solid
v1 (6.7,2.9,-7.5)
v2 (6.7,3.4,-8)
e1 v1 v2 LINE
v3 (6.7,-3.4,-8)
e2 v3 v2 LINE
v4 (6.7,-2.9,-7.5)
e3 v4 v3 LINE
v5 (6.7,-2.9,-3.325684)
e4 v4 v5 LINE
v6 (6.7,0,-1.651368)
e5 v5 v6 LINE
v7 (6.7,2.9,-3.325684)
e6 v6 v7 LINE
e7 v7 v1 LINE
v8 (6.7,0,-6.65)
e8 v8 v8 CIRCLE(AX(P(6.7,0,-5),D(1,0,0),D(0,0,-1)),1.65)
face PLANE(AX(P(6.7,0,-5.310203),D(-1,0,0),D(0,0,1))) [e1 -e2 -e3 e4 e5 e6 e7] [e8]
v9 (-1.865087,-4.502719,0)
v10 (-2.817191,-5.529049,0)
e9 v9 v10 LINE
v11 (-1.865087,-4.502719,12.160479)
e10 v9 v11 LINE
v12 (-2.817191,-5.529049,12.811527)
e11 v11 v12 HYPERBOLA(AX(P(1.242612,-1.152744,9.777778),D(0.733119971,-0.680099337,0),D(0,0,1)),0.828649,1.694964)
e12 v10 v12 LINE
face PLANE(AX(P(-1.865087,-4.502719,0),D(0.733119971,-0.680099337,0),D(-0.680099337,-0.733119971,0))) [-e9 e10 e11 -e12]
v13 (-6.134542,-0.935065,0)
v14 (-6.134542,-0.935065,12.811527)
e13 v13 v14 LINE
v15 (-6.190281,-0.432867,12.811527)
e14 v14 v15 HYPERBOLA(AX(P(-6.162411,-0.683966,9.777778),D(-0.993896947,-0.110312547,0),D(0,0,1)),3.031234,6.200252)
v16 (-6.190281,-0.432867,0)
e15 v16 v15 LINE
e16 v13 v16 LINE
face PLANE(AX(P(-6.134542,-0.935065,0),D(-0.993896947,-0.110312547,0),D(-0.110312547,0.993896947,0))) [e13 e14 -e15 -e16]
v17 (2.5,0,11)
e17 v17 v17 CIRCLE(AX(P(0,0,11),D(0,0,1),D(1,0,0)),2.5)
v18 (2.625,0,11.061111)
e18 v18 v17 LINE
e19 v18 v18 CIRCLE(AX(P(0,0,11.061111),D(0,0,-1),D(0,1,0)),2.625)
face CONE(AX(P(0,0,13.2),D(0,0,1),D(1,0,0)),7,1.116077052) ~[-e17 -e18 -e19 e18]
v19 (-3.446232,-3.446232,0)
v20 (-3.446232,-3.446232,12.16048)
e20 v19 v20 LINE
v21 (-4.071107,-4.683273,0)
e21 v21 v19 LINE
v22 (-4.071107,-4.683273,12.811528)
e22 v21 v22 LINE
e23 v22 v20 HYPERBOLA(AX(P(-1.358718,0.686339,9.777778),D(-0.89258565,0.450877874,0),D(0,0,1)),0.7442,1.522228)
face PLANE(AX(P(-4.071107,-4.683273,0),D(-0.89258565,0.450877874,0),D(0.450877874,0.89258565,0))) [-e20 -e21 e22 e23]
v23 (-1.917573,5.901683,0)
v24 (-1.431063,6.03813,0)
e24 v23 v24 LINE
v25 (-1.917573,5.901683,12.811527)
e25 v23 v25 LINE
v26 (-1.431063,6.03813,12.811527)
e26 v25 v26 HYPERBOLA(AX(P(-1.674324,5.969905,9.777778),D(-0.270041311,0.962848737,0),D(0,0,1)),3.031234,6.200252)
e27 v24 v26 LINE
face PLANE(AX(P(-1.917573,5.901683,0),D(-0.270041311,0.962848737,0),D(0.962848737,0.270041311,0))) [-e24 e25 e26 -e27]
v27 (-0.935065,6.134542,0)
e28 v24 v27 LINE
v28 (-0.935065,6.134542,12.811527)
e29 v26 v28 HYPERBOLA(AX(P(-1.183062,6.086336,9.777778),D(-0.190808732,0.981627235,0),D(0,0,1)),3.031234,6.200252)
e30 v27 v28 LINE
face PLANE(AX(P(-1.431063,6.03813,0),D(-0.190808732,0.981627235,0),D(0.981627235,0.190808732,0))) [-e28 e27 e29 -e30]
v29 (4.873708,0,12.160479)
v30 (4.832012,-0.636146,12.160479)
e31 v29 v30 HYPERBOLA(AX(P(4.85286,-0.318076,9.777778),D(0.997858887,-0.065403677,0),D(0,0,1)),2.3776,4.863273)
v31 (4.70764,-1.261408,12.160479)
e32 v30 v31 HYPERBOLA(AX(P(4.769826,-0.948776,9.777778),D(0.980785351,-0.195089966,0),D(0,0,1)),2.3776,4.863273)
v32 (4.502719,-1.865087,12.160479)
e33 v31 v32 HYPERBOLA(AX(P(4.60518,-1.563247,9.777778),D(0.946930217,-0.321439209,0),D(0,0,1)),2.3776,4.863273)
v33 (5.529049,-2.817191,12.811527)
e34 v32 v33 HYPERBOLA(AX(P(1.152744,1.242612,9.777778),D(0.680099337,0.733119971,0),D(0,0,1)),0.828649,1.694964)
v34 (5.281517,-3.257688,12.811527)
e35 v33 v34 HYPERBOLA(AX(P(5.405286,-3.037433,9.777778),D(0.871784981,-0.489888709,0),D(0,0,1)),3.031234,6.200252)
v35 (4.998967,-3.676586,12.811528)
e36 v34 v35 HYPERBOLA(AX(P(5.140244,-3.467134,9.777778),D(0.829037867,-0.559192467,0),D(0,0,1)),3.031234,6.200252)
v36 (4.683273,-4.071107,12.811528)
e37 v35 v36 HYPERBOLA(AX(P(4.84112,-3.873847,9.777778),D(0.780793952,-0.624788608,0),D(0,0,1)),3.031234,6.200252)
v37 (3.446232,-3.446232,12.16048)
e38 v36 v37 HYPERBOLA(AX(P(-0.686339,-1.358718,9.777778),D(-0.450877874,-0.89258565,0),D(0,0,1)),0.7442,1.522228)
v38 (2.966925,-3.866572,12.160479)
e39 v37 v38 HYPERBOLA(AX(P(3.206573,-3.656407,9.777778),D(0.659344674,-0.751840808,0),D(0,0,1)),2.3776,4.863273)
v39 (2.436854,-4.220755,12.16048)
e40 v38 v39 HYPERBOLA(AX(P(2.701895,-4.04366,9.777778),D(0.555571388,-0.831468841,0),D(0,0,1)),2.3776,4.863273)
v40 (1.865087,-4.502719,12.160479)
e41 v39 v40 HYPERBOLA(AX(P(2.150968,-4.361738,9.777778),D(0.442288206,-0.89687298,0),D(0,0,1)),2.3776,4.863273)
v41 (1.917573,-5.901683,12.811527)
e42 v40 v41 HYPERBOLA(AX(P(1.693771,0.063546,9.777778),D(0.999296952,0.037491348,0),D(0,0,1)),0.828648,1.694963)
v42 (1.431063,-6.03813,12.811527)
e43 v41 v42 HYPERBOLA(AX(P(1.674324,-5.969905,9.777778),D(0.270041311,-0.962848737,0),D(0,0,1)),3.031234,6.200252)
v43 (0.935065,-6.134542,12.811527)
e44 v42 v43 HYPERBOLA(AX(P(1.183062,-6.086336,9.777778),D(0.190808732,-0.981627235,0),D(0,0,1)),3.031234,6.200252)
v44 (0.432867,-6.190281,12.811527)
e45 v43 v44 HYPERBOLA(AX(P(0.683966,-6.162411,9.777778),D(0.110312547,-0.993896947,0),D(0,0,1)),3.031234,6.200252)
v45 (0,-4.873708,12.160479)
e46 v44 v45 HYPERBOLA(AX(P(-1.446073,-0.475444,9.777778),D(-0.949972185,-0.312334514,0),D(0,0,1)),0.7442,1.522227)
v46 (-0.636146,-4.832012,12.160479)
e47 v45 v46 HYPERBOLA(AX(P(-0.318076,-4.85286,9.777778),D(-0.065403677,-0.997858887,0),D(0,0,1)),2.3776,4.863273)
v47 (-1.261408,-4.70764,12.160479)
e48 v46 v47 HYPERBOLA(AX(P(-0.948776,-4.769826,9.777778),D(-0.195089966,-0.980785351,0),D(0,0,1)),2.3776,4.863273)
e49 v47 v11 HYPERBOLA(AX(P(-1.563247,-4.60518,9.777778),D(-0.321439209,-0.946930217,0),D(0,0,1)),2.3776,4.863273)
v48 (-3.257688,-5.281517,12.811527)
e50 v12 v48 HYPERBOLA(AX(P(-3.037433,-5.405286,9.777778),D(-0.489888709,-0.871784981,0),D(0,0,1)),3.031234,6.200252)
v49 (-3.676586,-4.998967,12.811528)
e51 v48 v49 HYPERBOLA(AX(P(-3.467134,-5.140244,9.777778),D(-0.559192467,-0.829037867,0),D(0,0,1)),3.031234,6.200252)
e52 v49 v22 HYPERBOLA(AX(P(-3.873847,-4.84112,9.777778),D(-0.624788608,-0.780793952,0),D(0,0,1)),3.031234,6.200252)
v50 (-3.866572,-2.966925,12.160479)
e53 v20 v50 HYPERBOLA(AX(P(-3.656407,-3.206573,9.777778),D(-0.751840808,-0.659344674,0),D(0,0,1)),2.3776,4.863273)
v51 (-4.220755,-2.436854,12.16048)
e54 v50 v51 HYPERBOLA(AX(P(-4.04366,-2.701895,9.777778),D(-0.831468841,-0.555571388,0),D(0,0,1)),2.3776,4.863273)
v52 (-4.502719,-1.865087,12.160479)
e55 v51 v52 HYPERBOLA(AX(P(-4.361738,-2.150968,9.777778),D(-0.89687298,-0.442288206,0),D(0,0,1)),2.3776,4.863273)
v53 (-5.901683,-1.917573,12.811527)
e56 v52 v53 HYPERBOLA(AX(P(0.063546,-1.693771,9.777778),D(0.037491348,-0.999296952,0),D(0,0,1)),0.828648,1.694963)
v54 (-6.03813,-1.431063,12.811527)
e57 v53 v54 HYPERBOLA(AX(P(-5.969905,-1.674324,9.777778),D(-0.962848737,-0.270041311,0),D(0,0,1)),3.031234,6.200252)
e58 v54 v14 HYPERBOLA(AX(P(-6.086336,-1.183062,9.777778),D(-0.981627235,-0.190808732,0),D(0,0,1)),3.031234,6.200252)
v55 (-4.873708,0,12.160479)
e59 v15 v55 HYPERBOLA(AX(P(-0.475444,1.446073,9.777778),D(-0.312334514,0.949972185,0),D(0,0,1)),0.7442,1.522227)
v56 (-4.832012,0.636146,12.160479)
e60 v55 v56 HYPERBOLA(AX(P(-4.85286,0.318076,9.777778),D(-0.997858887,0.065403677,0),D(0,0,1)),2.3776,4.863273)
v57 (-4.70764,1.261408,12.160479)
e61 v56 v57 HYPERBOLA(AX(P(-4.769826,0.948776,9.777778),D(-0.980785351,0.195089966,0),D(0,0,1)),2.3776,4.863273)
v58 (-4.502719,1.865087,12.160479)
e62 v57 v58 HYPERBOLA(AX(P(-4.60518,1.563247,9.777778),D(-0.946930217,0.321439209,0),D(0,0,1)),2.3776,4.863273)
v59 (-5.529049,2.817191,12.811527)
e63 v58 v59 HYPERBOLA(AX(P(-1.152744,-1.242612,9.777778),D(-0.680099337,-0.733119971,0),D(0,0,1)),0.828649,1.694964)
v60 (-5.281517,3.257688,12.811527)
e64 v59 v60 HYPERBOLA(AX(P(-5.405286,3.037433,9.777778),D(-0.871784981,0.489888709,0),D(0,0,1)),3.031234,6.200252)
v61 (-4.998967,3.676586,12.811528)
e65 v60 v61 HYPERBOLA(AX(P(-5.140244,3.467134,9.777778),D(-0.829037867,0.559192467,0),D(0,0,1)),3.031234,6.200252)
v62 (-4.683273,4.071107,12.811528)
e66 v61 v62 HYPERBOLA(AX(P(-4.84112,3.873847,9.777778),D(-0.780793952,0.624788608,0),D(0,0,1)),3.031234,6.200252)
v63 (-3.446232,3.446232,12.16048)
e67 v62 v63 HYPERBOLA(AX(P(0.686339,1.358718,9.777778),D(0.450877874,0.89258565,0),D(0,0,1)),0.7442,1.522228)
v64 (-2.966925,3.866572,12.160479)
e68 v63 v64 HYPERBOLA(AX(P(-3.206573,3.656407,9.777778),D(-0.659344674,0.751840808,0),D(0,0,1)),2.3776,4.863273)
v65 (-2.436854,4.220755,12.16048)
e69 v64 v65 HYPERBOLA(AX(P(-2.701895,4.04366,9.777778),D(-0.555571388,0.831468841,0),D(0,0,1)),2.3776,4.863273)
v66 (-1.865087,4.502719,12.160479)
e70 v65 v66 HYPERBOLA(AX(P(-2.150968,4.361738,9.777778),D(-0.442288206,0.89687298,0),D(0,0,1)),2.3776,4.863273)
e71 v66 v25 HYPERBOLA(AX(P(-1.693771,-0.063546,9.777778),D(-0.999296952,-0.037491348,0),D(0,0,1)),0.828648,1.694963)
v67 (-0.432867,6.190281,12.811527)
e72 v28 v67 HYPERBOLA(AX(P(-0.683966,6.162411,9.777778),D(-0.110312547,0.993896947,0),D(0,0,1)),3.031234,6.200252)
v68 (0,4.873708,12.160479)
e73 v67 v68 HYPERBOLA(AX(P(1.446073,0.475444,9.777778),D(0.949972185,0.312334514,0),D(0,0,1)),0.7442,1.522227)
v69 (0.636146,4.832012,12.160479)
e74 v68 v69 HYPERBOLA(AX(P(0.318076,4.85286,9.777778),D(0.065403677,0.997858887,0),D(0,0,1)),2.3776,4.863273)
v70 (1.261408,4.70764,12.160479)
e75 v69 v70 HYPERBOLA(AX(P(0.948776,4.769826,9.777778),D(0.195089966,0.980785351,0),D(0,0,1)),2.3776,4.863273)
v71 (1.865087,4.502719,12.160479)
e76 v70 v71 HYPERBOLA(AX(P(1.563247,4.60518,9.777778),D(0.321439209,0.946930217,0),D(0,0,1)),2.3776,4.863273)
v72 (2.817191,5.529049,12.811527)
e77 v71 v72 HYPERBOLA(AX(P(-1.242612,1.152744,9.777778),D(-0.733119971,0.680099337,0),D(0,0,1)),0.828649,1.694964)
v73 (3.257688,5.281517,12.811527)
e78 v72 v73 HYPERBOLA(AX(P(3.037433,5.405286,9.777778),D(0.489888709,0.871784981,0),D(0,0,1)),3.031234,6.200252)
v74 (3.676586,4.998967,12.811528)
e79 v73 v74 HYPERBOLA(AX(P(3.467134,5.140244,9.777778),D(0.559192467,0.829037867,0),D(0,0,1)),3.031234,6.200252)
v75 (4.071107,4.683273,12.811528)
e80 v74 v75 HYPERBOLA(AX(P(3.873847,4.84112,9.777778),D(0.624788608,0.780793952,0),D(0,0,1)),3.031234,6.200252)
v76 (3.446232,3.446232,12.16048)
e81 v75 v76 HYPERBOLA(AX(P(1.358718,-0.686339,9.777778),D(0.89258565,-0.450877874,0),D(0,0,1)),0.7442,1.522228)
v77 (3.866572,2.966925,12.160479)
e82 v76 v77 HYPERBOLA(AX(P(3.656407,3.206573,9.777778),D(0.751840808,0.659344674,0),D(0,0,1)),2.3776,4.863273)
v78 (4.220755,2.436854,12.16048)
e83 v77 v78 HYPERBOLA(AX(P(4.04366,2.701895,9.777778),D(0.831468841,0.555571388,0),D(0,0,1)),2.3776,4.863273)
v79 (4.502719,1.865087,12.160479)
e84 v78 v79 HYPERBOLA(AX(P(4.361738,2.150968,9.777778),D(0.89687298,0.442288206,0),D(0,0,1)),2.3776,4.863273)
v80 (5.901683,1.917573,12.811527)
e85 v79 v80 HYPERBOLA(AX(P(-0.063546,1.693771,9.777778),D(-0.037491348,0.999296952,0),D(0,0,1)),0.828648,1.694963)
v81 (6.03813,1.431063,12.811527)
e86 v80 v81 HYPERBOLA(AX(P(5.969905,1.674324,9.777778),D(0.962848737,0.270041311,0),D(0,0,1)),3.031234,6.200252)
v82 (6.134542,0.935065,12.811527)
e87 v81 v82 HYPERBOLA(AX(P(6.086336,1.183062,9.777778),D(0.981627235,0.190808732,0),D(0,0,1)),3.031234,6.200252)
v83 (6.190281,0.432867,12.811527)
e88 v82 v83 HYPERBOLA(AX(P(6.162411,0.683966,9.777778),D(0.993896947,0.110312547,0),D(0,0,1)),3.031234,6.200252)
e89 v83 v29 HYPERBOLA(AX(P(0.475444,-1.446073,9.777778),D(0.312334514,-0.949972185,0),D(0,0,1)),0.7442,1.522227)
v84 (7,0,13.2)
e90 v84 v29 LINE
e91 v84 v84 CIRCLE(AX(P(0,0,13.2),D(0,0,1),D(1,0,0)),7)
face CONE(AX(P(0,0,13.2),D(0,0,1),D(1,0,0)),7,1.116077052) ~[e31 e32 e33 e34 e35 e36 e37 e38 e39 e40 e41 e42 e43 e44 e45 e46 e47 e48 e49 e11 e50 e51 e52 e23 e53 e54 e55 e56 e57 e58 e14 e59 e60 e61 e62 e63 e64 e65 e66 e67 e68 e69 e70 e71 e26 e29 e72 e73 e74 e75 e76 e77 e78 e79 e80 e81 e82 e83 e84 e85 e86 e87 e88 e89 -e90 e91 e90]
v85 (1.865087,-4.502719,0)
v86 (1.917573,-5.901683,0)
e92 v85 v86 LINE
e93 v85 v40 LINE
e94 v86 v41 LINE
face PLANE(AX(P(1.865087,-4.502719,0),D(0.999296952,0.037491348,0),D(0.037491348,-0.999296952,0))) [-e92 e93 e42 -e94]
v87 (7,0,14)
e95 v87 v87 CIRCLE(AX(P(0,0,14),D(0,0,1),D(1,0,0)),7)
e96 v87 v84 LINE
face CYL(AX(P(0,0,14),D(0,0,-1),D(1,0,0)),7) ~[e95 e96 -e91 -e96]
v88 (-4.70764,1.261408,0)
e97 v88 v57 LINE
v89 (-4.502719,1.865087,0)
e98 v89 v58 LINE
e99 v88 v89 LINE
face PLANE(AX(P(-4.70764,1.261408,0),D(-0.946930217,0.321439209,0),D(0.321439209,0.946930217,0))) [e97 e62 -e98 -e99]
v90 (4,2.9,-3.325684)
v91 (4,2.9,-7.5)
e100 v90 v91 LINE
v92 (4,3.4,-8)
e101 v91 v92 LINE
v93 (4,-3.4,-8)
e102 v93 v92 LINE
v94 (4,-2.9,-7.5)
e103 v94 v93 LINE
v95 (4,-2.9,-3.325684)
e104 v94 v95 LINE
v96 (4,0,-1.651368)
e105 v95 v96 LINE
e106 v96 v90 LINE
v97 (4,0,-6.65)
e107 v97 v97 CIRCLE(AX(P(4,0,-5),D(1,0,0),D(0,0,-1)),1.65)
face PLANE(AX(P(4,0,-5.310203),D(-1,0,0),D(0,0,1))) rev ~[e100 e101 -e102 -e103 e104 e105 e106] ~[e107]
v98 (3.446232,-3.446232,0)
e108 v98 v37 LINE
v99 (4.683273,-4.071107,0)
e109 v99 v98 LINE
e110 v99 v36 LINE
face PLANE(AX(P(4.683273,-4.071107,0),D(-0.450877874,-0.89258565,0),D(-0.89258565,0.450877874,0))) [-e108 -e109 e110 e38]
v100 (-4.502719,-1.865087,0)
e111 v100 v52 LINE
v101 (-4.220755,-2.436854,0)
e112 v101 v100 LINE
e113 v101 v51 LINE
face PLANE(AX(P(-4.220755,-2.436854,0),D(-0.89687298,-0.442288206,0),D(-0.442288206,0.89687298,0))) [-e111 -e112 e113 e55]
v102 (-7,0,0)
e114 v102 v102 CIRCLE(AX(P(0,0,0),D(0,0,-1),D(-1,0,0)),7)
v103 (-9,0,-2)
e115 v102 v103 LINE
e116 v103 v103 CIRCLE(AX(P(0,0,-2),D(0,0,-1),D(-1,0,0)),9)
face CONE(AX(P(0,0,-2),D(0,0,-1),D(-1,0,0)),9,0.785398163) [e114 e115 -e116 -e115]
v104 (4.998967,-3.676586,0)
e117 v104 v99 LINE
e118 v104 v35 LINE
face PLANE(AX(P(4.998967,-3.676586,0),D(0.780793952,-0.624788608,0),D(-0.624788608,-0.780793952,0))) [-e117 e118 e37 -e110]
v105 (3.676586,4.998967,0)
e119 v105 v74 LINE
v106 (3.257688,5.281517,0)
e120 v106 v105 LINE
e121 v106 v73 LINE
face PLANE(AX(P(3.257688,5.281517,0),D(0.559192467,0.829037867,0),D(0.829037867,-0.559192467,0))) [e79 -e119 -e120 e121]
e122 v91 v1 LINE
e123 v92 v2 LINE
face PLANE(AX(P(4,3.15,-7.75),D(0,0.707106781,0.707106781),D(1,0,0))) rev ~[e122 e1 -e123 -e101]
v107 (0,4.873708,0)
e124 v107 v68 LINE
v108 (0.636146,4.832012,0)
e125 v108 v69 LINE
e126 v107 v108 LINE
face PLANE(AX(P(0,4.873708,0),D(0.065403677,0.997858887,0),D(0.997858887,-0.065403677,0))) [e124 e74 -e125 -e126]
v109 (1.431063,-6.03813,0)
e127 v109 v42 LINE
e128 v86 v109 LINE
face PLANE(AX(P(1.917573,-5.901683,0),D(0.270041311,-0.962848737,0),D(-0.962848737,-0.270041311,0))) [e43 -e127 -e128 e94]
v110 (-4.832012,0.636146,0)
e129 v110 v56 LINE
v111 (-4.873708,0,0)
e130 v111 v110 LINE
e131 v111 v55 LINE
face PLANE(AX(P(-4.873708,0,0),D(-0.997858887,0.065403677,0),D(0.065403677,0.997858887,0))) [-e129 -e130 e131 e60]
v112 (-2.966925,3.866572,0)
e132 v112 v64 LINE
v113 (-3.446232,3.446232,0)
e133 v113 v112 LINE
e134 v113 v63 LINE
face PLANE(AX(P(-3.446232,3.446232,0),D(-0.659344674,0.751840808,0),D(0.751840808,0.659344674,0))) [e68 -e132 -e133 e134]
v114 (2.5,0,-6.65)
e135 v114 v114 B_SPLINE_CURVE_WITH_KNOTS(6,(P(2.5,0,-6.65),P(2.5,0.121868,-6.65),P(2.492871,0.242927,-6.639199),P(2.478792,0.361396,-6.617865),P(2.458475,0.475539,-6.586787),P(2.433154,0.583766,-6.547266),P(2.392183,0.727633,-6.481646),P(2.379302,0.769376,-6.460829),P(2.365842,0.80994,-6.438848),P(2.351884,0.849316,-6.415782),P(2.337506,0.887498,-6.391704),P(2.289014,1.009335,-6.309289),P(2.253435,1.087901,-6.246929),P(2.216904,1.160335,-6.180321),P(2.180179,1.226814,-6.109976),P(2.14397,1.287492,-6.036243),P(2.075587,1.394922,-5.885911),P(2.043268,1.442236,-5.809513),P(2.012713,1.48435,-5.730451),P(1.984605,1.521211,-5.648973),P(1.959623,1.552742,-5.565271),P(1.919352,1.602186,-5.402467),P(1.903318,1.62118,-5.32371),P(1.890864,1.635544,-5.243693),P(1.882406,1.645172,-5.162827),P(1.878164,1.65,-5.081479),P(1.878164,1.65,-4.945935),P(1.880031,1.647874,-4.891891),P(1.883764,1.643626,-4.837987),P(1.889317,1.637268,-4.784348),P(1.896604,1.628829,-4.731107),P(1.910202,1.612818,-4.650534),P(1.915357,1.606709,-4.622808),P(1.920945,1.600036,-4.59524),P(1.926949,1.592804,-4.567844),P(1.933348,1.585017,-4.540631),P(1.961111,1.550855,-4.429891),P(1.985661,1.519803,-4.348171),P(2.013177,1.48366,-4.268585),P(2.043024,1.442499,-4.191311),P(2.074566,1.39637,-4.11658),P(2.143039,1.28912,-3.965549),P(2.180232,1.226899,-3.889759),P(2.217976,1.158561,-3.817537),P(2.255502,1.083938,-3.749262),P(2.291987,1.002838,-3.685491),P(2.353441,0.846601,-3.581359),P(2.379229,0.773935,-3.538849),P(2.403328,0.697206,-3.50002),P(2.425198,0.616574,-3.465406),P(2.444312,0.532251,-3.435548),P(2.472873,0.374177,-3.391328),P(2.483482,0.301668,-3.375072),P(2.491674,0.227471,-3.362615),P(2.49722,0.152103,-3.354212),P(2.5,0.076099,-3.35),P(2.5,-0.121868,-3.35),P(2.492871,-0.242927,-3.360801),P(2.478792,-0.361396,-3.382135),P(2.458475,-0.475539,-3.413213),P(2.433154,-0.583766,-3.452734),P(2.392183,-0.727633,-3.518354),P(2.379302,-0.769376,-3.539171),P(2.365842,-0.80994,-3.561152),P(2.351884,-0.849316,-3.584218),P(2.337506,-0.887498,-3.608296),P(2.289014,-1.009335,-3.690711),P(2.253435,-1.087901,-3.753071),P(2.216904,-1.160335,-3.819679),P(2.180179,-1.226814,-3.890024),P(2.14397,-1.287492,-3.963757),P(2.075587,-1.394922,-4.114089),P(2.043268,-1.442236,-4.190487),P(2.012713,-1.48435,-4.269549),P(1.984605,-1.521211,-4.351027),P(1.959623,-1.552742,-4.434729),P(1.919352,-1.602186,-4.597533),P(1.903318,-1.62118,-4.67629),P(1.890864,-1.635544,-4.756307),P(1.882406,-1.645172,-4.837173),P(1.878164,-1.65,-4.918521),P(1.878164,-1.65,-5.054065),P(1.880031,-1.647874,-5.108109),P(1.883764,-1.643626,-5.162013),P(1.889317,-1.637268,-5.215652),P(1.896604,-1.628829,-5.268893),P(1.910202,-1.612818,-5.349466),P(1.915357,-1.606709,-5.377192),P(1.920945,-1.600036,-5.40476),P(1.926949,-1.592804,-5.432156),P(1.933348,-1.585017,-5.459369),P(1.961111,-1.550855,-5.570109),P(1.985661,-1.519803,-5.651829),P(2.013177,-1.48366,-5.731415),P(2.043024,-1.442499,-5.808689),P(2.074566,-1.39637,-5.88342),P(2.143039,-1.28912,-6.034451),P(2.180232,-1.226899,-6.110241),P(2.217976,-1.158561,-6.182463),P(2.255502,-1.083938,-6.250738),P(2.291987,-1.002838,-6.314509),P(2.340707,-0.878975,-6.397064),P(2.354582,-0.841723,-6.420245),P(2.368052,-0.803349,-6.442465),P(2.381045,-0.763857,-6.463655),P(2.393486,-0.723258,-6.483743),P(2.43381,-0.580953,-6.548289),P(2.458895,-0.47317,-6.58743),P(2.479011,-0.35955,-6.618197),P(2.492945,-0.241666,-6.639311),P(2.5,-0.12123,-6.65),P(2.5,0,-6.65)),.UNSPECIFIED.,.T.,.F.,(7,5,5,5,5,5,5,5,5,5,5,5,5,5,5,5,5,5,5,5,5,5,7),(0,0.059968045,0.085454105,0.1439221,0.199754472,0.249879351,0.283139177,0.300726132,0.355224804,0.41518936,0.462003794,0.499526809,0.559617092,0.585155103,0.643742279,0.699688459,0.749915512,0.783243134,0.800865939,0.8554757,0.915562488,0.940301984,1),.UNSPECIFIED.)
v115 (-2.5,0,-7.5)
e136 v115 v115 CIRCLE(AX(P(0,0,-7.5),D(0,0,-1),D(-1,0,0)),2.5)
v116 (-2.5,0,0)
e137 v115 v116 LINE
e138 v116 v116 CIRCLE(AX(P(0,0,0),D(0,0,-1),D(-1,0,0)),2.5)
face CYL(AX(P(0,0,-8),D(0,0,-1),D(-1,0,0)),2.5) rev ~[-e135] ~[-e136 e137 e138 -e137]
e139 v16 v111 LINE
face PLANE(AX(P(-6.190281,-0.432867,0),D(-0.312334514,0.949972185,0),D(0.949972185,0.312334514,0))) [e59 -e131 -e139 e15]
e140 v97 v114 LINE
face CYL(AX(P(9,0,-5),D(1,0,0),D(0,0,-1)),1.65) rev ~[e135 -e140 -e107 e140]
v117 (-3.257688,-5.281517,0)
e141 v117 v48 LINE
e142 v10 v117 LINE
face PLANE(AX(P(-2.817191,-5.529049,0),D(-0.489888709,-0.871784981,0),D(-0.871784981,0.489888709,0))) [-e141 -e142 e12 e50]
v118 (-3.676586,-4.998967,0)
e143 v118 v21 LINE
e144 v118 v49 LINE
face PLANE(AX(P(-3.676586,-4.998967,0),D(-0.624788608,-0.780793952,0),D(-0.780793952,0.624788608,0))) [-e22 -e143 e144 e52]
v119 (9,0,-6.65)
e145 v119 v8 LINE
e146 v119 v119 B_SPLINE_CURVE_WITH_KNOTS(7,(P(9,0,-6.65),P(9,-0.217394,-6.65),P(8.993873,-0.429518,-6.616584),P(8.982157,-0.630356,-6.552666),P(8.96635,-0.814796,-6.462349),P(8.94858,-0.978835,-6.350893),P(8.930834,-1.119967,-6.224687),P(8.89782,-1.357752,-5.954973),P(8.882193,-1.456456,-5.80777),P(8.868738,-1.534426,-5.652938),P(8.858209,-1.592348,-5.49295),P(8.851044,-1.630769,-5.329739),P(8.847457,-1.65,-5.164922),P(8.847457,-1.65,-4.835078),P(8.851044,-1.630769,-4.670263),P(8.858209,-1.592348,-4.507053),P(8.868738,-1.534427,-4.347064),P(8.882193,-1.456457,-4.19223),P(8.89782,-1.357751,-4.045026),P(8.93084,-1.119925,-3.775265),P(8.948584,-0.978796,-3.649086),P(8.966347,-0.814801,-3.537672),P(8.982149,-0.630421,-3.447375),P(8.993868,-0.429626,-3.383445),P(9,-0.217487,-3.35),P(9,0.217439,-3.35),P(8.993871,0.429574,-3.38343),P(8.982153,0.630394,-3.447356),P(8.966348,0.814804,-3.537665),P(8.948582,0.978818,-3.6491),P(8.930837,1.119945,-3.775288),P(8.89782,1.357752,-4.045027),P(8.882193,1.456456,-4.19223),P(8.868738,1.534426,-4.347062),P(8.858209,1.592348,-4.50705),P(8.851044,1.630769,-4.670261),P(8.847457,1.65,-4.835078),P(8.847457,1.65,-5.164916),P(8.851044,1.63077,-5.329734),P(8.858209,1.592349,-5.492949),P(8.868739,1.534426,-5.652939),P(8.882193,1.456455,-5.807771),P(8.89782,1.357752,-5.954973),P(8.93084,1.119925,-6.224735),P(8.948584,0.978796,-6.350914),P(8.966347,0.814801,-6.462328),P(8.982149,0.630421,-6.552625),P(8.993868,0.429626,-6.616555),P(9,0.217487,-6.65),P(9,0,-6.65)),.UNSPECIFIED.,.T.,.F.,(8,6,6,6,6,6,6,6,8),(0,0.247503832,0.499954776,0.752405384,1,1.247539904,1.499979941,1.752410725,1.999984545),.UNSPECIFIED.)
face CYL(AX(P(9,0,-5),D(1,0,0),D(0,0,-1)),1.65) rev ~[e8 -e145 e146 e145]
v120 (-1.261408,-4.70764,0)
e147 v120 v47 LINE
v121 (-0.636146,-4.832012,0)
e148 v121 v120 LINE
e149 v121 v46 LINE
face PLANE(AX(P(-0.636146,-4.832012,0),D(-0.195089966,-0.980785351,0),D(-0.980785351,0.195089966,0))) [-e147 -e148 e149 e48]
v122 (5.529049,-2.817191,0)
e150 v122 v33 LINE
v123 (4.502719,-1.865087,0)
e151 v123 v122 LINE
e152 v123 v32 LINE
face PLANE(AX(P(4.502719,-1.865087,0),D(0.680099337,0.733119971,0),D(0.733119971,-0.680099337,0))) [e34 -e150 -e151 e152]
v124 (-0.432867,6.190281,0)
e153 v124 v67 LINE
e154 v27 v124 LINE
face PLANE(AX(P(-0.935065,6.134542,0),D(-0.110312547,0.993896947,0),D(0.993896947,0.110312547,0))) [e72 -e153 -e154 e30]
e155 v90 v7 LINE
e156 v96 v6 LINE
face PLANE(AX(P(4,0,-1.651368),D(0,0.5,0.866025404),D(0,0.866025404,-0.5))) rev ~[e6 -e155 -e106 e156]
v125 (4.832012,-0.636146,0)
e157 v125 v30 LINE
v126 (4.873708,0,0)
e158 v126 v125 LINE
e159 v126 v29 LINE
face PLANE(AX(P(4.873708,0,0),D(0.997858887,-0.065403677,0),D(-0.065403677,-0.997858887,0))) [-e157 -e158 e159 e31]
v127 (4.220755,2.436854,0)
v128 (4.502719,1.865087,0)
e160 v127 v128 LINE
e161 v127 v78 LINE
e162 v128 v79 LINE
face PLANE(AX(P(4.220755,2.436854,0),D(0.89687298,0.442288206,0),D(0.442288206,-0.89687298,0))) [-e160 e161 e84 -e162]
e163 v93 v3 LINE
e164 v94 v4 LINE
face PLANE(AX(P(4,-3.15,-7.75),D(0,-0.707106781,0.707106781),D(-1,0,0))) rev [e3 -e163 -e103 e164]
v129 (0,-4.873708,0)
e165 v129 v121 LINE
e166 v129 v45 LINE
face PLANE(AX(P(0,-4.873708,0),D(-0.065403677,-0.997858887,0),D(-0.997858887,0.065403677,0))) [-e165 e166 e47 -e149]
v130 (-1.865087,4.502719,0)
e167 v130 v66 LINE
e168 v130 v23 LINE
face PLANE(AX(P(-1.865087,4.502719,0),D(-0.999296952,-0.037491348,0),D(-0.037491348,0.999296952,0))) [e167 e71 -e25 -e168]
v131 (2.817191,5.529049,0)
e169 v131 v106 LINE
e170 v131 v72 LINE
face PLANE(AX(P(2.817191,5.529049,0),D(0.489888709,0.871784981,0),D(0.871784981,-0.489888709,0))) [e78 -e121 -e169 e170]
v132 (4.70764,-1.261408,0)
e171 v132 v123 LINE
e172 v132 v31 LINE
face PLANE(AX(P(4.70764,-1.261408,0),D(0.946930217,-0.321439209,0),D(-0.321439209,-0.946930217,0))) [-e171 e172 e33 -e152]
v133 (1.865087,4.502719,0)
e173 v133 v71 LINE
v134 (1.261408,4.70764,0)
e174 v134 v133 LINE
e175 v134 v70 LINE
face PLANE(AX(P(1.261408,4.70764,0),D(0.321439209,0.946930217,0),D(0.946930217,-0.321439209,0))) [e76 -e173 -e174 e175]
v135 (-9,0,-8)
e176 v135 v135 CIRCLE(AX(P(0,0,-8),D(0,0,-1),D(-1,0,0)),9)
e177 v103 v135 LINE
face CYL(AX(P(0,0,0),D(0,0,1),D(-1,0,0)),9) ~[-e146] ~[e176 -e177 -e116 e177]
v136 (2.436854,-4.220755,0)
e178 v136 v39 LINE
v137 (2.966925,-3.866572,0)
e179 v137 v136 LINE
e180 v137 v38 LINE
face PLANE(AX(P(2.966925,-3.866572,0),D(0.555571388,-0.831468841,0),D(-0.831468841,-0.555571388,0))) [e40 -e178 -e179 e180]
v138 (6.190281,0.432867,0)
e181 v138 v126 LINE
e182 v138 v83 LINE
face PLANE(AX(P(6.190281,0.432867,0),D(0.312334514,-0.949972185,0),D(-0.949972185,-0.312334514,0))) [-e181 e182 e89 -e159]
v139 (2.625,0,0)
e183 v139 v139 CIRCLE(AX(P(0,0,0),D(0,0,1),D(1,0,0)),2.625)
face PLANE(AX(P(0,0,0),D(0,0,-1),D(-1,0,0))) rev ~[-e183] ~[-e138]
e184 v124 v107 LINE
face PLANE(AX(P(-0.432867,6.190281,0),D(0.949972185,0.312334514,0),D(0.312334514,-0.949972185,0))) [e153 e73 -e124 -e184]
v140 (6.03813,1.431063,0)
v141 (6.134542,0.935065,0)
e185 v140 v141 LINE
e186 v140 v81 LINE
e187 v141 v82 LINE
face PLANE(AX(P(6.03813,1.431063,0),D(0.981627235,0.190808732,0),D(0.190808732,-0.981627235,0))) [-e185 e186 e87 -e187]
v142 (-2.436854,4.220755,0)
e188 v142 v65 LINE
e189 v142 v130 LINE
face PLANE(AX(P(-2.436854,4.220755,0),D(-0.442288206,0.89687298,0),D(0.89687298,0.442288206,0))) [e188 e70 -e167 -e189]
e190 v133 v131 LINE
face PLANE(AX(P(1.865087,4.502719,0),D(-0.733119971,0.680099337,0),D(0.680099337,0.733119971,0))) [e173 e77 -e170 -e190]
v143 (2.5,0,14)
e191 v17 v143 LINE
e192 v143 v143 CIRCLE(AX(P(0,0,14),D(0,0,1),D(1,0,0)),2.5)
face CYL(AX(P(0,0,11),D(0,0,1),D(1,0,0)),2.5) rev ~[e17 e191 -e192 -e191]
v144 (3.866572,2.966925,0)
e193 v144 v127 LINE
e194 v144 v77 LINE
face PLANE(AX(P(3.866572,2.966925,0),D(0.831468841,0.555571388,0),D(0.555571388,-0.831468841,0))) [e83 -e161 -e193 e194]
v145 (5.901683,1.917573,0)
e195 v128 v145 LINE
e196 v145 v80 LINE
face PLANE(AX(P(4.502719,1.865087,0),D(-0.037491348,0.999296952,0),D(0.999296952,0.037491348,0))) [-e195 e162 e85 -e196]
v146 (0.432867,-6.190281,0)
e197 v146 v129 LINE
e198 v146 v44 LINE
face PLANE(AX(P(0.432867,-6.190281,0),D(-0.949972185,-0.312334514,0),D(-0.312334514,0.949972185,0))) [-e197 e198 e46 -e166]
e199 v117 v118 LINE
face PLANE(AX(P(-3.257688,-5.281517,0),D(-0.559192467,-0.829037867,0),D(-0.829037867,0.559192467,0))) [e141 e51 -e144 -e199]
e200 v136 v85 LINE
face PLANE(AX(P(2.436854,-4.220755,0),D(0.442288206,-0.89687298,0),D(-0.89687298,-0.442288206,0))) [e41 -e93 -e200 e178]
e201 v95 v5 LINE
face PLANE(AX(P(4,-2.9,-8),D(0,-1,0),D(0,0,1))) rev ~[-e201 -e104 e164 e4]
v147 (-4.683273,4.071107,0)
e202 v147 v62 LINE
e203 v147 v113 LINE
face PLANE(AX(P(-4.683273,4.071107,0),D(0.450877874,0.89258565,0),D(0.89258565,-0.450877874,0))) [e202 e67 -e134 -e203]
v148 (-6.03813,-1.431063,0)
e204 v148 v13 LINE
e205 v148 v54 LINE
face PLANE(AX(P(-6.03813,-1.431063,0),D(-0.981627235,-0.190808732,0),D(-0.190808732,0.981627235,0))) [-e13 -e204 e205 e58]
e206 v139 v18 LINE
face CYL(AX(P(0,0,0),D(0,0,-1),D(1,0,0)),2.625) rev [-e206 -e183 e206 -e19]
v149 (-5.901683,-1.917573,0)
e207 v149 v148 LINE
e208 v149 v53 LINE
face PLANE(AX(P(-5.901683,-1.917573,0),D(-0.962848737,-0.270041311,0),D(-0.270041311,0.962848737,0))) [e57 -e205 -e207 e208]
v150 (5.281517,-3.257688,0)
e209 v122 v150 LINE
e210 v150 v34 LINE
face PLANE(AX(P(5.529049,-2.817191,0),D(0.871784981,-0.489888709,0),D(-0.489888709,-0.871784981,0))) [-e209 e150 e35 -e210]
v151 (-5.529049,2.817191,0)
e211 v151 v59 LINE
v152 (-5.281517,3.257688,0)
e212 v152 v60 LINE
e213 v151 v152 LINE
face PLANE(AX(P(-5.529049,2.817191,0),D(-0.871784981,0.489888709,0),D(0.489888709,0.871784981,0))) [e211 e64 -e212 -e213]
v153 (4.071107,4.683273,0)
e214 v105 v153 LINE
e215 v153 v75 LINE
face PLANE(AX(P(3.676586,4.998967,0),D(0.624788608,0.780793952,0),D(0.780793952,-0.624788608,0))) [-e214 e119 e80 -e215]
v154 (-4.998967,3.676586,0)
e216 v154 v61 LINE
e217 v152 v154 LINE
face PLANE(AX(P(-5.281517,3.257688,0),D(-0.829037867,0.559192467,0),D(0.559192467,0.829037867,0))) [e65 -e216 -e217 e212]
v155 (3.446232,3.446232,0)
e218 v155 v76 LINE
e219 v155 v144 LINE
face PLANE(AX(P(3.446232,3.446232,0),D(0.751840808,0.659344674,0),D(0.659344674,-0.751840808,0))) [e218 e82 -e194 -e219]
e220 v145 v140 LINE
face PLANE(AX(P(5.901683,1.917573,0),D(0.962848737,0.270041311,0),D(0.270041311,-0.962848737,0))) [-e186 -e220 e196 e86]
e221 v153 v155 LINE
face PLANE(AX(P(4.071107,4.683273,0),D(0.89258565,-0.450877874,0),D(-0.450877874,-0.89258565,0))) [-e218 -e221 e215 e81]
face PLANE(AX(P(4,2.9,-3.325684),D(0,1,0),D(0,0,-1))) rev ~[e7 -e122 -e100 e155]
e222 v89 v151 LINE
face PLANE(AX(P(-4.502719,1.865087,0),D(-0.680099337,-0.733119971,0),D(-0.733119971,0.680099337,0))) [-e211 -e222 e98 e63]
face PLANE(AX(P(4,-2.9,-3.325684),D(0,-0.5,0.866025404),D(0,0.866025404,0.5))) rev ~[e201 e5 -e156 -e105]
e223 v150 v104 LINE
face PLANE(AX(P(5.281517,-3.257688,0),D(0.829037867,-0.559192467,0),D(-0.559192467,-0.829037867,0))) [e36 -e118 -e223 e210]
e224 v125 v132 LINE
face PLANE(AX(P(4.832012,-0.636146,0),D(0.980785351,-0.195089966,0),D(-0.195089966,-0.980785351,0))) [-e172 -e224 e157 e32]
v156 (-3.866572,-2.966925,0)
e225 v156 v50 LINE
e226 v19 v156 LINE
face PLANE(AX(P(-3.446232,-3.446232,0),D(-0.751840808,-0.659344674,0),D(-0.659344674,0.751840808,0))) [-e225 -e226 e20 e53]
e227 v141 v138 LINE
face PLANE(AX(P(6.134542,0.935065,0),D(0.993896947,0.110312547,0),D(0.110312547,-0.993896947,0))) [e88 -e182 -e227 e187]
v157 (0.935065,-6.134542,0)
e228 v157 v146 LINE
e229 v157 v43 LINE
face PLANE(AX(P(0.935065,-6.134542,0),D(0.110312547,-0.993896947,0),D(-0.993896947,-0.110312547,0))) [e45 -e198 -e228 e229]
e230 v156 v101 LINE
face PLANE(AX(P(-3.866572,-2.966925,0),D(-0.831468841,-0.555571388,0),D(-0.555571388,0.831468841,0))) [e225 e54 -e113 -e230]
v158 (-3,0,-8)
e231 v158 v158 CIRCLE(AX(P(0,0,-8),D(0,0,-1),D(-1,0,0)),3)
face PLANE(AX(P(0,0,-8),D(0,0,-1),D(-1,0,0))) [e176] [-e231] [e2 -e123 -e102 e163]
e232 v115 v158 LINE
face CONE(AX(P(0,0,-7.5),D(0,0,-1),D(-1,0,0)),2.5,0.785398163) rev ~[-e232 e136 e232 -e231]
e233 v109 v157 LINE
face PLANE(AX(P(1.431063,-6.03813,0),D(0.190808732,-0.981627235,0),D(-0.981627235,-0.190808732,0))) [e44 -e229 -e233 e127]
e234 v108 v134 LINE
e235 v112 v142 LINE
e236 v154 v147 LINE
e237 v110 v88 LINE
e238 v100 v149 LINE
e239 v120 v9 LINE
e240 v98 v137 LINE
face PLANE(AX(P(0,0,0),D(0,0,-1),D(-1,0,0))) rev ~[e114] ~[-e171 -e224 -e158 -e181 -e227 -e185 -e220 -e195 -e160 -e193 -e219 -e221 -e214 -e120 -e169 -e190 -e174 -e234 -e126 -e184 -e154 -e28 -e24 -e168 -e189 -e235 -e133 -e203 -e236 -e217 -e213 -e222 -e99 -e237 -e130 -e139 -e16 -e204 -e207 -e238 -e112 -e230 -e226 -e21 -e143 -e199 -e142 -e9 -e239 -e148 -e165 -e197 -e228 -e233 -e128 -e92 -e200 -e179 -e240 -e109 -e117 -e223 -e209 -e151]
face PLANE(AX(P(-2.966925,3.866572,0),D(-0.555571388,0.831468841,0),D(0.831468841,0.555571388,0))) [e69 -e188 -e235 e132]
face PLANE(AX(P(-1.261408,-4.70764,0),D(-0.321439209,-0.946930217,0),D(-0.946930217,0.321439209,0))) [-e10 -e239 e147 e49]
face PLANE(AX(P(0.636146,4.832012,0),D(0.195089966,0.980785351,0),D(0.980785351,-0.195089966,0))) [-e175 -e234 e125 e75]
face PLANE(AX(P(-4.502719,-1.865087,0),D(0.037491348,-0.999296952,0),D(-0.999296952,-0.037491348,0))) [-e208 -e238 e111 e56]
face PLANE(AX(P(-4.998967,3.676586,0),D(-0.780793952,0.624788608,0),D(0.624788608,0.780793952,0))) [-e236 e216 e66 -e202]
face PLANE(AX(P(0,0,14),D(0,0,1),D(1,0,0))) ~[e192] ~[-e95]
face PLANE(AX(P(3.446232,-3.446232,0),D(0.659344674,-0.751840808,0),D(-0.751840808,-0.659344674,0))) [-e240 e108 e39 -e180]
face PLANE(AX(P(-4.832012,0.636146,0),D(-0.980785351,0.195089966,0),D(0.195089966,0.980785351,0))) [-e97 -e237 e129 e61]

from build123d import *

# Parameters (mm, degrees)
SKETCH2_R           = 2.625
BOSS_EXTRUDE1_DEPTH = 14
SKETCH3_R           = 9
BOSS_EXTRUDE2_DEPTH = 8
SKETCH4_R           = 2.5
CUT_EXTRUDE1_DEPTH  = 23
CHAMFER1_SIZE       = 2
CUT_EXTRUDE2_DEPTH  = 2.7
CUT_EXTRUDE3_REACH  = 20
SKETCH7_R           = 1.65
CHAMFER2_SIZE       = 0.5
CHAMFER3_SIZE       = 0.5


with BuildPart() as part:
    # Sketch2 → Boss-Extrude1 (new body)
    with BuildSketch(Plane.XY):
        Polygon((4.873707771, 0), (4.832012177, -0.636146486), (4.707640171, -1.261407971), (4.502718925, -1.865087032), (5.52904892, -2.817190886), (5.281517029, -3.257688046), (4.998967171, -3.676585913), (4.683272839, -4.071106911), (3.44623208, -3.44623208), (2.966924906, -3.866571903), (2.436853886, -4.2207551), (1.865087032, -4.502718925), (1.917572975, -5.901682854), (1.431063056, -6.038129807), (0.935064673, -6.134541988), (0.432866603, -6.190280914), (0, -4.873707771), (-0.636146486, -4.832012177), (-1.261407971, -4.707640171), (-1.865087032, -4.502718925), (-2.817190886, -5.52904892), (-3.257688046, -5.281517029), (-3.676585913, -4.998967171), (-4.071106911, -4.683272839), (-3.44623208, -3.44623208), (-3.866571903, -2.966924906), (-4.2207551, -2.436853886), (-4.502718925, -1.865087032), (-5.901682854, -1.917572975), (-6.038129807, -1.431063056), (-6.134541988, -0.935064673), (-6.190280914, -0.432866603), (-4.873707771, 0), (-4.832012177, 0.636146486), (-4.707640171, 1.261407971), (-4.502718925, 1.865087032), (-5.52904892, 2.817190886), (-5.281517029, 3.257688046), (-4.998967171, 3.676585913), (-4.683272839, 4.071106911), (-3.44623208, 3.44623208), (-2.966924906, 3.866571903), (-2.436853886, 4.2207551), (-1.865087032, 4.502718925), (-1.917572975, 5.901682854), (-1.431063056, 6.038129807), (-0.935064673, 6.134541988), (-0.432866603, 6.190280914), (0, 4.873707771), (0.636146486, 4.832012177), (1.261407971, 4.707640171), (1.865087032, 4.502718925), (2.817190886, 5.52904892), (3.257688046, 5.281517029), (3.676585913, 4.998967171), (4.071106911, 4.683272839), (3.44623208, 3.44623208), (3.866571903, 2.966924906), (4.2207551, 2.436853886), (4.502718925, 1.865087032), (5.901682854, 1.917572975), (6.038129807, 1.431063056), (6.134541988, 0.935064673), (6.190280914, 0.432866603), align=None)
        Circle(SKETCH2_R, mode=Mode.SUBTRACT)
    extrude(amount=BOSS_EXTRUDE1_DEPTH)

    # Sketch3 → Boss-Extrude2 (add)
    with BuildSketch(Plane(origin=(0, 0, 0), x_dir=(-1, 0, 0), z_dir=(0, 0, -1))):
        Circle(SKETCH3_R)
    extrude(amount=BOSS_EXTRUDE2_DEPTH)

    # Sketch4 → Cut-Extrude1 (cut, through all)
    with BuildSketch(Plane(origin=(0, 0, -8), x_dir=(-1, 0, 0), z_dir=(0, 0, -1))):
        Circle(SKETCH4_R)
    extrude(amount=-CUT_EXTRUDE1_DEPTH, mode=Mode.SUBTRACT)

    # Sketch5 → Revolve1 (revolve)
    with BuildSketch(Plane(origin=(0, 0, 0), x_dir=(1, 0, 0), z_dir=(0, 1, 0))):
        Polygon((2.5, -14), (7, -14), (7, -13.2), (2.5, -11), align=None)
    revolve(axis=Axis((0, 0, 0), (0, 0, 1)))

    # Chamfer1
    chamfer1_edges = [part.edges().sort_by_distance(p)[0] for p in [
        (9, 0, 0),
    ]]
    chamfer(chamfer1_edges, length=CHAMFER1_SIZE)

    # Sketch6 → Cut-Extrude2 (cut)
    with BuildSketch(Plane(origin=(4, 0, 0), x_dir=(0, 0, -1), z_dir=(1, 0, 0))):
        Polygon((8, 2.9), (8, -2.9), (3.325684219, -2.9), (1.651368439, 0), (3.325684219, 2.9), align=None)
    extrude(amount=CUT_EXTRUDE2_DEPTH, mode=Mode.SUBTRACT)

    # Cut-Extrude3: up to this face of the body
    cut_extrude3_end = part.part.faces().sort_by_distance((2.5, 0, -4))[0]
    # Sketch7 → Cut-Extrude3 (cut, up to the picked face)
    with BuildSketch(Plane(origin=(9, 0, 0), x_dir=(0, 0, -1), z_dir=(1, 0, 0)), mode=Mode.PRIVATE) as cut_extrude3_sk1:
        with Locations((5, 0)):
            Circle(SKETCH7_R)
    cut_extrude3_tool1 = split(extrude(cut_extrude3_sk1.sketch, amount=-CUT_EXTRUDE3_REACH, mode=Mode.PRIVATE), bisect_by=cut_extrude3_end, keep=Keep.BOTH, mode=Mode.PRIVATE)
    add(cut_extrude3_tool1.solids().sort_by_distance((9, 0, -5))[0], mode=Mode.SUBTRACT)

    # Chamfer2
    chamfer2_edges = [part.edges().sort_by_distance(p)[0] for p in [
        (5.35, 2.9, -8),
        (5.35, -2.9, -8),
    ]]
    chamfer(chamfer2_edges, length=CHAMFER2_SIZE)

    # Chamfer3
    chamfer3_edges = [part.edges().sort_by_distance(p)[0] for p in [
        (2.5, 0, -8),
    ]]
    chamfer(chamfer3_edges, length=CHAMFER3_SIZE)


solid = part.part
